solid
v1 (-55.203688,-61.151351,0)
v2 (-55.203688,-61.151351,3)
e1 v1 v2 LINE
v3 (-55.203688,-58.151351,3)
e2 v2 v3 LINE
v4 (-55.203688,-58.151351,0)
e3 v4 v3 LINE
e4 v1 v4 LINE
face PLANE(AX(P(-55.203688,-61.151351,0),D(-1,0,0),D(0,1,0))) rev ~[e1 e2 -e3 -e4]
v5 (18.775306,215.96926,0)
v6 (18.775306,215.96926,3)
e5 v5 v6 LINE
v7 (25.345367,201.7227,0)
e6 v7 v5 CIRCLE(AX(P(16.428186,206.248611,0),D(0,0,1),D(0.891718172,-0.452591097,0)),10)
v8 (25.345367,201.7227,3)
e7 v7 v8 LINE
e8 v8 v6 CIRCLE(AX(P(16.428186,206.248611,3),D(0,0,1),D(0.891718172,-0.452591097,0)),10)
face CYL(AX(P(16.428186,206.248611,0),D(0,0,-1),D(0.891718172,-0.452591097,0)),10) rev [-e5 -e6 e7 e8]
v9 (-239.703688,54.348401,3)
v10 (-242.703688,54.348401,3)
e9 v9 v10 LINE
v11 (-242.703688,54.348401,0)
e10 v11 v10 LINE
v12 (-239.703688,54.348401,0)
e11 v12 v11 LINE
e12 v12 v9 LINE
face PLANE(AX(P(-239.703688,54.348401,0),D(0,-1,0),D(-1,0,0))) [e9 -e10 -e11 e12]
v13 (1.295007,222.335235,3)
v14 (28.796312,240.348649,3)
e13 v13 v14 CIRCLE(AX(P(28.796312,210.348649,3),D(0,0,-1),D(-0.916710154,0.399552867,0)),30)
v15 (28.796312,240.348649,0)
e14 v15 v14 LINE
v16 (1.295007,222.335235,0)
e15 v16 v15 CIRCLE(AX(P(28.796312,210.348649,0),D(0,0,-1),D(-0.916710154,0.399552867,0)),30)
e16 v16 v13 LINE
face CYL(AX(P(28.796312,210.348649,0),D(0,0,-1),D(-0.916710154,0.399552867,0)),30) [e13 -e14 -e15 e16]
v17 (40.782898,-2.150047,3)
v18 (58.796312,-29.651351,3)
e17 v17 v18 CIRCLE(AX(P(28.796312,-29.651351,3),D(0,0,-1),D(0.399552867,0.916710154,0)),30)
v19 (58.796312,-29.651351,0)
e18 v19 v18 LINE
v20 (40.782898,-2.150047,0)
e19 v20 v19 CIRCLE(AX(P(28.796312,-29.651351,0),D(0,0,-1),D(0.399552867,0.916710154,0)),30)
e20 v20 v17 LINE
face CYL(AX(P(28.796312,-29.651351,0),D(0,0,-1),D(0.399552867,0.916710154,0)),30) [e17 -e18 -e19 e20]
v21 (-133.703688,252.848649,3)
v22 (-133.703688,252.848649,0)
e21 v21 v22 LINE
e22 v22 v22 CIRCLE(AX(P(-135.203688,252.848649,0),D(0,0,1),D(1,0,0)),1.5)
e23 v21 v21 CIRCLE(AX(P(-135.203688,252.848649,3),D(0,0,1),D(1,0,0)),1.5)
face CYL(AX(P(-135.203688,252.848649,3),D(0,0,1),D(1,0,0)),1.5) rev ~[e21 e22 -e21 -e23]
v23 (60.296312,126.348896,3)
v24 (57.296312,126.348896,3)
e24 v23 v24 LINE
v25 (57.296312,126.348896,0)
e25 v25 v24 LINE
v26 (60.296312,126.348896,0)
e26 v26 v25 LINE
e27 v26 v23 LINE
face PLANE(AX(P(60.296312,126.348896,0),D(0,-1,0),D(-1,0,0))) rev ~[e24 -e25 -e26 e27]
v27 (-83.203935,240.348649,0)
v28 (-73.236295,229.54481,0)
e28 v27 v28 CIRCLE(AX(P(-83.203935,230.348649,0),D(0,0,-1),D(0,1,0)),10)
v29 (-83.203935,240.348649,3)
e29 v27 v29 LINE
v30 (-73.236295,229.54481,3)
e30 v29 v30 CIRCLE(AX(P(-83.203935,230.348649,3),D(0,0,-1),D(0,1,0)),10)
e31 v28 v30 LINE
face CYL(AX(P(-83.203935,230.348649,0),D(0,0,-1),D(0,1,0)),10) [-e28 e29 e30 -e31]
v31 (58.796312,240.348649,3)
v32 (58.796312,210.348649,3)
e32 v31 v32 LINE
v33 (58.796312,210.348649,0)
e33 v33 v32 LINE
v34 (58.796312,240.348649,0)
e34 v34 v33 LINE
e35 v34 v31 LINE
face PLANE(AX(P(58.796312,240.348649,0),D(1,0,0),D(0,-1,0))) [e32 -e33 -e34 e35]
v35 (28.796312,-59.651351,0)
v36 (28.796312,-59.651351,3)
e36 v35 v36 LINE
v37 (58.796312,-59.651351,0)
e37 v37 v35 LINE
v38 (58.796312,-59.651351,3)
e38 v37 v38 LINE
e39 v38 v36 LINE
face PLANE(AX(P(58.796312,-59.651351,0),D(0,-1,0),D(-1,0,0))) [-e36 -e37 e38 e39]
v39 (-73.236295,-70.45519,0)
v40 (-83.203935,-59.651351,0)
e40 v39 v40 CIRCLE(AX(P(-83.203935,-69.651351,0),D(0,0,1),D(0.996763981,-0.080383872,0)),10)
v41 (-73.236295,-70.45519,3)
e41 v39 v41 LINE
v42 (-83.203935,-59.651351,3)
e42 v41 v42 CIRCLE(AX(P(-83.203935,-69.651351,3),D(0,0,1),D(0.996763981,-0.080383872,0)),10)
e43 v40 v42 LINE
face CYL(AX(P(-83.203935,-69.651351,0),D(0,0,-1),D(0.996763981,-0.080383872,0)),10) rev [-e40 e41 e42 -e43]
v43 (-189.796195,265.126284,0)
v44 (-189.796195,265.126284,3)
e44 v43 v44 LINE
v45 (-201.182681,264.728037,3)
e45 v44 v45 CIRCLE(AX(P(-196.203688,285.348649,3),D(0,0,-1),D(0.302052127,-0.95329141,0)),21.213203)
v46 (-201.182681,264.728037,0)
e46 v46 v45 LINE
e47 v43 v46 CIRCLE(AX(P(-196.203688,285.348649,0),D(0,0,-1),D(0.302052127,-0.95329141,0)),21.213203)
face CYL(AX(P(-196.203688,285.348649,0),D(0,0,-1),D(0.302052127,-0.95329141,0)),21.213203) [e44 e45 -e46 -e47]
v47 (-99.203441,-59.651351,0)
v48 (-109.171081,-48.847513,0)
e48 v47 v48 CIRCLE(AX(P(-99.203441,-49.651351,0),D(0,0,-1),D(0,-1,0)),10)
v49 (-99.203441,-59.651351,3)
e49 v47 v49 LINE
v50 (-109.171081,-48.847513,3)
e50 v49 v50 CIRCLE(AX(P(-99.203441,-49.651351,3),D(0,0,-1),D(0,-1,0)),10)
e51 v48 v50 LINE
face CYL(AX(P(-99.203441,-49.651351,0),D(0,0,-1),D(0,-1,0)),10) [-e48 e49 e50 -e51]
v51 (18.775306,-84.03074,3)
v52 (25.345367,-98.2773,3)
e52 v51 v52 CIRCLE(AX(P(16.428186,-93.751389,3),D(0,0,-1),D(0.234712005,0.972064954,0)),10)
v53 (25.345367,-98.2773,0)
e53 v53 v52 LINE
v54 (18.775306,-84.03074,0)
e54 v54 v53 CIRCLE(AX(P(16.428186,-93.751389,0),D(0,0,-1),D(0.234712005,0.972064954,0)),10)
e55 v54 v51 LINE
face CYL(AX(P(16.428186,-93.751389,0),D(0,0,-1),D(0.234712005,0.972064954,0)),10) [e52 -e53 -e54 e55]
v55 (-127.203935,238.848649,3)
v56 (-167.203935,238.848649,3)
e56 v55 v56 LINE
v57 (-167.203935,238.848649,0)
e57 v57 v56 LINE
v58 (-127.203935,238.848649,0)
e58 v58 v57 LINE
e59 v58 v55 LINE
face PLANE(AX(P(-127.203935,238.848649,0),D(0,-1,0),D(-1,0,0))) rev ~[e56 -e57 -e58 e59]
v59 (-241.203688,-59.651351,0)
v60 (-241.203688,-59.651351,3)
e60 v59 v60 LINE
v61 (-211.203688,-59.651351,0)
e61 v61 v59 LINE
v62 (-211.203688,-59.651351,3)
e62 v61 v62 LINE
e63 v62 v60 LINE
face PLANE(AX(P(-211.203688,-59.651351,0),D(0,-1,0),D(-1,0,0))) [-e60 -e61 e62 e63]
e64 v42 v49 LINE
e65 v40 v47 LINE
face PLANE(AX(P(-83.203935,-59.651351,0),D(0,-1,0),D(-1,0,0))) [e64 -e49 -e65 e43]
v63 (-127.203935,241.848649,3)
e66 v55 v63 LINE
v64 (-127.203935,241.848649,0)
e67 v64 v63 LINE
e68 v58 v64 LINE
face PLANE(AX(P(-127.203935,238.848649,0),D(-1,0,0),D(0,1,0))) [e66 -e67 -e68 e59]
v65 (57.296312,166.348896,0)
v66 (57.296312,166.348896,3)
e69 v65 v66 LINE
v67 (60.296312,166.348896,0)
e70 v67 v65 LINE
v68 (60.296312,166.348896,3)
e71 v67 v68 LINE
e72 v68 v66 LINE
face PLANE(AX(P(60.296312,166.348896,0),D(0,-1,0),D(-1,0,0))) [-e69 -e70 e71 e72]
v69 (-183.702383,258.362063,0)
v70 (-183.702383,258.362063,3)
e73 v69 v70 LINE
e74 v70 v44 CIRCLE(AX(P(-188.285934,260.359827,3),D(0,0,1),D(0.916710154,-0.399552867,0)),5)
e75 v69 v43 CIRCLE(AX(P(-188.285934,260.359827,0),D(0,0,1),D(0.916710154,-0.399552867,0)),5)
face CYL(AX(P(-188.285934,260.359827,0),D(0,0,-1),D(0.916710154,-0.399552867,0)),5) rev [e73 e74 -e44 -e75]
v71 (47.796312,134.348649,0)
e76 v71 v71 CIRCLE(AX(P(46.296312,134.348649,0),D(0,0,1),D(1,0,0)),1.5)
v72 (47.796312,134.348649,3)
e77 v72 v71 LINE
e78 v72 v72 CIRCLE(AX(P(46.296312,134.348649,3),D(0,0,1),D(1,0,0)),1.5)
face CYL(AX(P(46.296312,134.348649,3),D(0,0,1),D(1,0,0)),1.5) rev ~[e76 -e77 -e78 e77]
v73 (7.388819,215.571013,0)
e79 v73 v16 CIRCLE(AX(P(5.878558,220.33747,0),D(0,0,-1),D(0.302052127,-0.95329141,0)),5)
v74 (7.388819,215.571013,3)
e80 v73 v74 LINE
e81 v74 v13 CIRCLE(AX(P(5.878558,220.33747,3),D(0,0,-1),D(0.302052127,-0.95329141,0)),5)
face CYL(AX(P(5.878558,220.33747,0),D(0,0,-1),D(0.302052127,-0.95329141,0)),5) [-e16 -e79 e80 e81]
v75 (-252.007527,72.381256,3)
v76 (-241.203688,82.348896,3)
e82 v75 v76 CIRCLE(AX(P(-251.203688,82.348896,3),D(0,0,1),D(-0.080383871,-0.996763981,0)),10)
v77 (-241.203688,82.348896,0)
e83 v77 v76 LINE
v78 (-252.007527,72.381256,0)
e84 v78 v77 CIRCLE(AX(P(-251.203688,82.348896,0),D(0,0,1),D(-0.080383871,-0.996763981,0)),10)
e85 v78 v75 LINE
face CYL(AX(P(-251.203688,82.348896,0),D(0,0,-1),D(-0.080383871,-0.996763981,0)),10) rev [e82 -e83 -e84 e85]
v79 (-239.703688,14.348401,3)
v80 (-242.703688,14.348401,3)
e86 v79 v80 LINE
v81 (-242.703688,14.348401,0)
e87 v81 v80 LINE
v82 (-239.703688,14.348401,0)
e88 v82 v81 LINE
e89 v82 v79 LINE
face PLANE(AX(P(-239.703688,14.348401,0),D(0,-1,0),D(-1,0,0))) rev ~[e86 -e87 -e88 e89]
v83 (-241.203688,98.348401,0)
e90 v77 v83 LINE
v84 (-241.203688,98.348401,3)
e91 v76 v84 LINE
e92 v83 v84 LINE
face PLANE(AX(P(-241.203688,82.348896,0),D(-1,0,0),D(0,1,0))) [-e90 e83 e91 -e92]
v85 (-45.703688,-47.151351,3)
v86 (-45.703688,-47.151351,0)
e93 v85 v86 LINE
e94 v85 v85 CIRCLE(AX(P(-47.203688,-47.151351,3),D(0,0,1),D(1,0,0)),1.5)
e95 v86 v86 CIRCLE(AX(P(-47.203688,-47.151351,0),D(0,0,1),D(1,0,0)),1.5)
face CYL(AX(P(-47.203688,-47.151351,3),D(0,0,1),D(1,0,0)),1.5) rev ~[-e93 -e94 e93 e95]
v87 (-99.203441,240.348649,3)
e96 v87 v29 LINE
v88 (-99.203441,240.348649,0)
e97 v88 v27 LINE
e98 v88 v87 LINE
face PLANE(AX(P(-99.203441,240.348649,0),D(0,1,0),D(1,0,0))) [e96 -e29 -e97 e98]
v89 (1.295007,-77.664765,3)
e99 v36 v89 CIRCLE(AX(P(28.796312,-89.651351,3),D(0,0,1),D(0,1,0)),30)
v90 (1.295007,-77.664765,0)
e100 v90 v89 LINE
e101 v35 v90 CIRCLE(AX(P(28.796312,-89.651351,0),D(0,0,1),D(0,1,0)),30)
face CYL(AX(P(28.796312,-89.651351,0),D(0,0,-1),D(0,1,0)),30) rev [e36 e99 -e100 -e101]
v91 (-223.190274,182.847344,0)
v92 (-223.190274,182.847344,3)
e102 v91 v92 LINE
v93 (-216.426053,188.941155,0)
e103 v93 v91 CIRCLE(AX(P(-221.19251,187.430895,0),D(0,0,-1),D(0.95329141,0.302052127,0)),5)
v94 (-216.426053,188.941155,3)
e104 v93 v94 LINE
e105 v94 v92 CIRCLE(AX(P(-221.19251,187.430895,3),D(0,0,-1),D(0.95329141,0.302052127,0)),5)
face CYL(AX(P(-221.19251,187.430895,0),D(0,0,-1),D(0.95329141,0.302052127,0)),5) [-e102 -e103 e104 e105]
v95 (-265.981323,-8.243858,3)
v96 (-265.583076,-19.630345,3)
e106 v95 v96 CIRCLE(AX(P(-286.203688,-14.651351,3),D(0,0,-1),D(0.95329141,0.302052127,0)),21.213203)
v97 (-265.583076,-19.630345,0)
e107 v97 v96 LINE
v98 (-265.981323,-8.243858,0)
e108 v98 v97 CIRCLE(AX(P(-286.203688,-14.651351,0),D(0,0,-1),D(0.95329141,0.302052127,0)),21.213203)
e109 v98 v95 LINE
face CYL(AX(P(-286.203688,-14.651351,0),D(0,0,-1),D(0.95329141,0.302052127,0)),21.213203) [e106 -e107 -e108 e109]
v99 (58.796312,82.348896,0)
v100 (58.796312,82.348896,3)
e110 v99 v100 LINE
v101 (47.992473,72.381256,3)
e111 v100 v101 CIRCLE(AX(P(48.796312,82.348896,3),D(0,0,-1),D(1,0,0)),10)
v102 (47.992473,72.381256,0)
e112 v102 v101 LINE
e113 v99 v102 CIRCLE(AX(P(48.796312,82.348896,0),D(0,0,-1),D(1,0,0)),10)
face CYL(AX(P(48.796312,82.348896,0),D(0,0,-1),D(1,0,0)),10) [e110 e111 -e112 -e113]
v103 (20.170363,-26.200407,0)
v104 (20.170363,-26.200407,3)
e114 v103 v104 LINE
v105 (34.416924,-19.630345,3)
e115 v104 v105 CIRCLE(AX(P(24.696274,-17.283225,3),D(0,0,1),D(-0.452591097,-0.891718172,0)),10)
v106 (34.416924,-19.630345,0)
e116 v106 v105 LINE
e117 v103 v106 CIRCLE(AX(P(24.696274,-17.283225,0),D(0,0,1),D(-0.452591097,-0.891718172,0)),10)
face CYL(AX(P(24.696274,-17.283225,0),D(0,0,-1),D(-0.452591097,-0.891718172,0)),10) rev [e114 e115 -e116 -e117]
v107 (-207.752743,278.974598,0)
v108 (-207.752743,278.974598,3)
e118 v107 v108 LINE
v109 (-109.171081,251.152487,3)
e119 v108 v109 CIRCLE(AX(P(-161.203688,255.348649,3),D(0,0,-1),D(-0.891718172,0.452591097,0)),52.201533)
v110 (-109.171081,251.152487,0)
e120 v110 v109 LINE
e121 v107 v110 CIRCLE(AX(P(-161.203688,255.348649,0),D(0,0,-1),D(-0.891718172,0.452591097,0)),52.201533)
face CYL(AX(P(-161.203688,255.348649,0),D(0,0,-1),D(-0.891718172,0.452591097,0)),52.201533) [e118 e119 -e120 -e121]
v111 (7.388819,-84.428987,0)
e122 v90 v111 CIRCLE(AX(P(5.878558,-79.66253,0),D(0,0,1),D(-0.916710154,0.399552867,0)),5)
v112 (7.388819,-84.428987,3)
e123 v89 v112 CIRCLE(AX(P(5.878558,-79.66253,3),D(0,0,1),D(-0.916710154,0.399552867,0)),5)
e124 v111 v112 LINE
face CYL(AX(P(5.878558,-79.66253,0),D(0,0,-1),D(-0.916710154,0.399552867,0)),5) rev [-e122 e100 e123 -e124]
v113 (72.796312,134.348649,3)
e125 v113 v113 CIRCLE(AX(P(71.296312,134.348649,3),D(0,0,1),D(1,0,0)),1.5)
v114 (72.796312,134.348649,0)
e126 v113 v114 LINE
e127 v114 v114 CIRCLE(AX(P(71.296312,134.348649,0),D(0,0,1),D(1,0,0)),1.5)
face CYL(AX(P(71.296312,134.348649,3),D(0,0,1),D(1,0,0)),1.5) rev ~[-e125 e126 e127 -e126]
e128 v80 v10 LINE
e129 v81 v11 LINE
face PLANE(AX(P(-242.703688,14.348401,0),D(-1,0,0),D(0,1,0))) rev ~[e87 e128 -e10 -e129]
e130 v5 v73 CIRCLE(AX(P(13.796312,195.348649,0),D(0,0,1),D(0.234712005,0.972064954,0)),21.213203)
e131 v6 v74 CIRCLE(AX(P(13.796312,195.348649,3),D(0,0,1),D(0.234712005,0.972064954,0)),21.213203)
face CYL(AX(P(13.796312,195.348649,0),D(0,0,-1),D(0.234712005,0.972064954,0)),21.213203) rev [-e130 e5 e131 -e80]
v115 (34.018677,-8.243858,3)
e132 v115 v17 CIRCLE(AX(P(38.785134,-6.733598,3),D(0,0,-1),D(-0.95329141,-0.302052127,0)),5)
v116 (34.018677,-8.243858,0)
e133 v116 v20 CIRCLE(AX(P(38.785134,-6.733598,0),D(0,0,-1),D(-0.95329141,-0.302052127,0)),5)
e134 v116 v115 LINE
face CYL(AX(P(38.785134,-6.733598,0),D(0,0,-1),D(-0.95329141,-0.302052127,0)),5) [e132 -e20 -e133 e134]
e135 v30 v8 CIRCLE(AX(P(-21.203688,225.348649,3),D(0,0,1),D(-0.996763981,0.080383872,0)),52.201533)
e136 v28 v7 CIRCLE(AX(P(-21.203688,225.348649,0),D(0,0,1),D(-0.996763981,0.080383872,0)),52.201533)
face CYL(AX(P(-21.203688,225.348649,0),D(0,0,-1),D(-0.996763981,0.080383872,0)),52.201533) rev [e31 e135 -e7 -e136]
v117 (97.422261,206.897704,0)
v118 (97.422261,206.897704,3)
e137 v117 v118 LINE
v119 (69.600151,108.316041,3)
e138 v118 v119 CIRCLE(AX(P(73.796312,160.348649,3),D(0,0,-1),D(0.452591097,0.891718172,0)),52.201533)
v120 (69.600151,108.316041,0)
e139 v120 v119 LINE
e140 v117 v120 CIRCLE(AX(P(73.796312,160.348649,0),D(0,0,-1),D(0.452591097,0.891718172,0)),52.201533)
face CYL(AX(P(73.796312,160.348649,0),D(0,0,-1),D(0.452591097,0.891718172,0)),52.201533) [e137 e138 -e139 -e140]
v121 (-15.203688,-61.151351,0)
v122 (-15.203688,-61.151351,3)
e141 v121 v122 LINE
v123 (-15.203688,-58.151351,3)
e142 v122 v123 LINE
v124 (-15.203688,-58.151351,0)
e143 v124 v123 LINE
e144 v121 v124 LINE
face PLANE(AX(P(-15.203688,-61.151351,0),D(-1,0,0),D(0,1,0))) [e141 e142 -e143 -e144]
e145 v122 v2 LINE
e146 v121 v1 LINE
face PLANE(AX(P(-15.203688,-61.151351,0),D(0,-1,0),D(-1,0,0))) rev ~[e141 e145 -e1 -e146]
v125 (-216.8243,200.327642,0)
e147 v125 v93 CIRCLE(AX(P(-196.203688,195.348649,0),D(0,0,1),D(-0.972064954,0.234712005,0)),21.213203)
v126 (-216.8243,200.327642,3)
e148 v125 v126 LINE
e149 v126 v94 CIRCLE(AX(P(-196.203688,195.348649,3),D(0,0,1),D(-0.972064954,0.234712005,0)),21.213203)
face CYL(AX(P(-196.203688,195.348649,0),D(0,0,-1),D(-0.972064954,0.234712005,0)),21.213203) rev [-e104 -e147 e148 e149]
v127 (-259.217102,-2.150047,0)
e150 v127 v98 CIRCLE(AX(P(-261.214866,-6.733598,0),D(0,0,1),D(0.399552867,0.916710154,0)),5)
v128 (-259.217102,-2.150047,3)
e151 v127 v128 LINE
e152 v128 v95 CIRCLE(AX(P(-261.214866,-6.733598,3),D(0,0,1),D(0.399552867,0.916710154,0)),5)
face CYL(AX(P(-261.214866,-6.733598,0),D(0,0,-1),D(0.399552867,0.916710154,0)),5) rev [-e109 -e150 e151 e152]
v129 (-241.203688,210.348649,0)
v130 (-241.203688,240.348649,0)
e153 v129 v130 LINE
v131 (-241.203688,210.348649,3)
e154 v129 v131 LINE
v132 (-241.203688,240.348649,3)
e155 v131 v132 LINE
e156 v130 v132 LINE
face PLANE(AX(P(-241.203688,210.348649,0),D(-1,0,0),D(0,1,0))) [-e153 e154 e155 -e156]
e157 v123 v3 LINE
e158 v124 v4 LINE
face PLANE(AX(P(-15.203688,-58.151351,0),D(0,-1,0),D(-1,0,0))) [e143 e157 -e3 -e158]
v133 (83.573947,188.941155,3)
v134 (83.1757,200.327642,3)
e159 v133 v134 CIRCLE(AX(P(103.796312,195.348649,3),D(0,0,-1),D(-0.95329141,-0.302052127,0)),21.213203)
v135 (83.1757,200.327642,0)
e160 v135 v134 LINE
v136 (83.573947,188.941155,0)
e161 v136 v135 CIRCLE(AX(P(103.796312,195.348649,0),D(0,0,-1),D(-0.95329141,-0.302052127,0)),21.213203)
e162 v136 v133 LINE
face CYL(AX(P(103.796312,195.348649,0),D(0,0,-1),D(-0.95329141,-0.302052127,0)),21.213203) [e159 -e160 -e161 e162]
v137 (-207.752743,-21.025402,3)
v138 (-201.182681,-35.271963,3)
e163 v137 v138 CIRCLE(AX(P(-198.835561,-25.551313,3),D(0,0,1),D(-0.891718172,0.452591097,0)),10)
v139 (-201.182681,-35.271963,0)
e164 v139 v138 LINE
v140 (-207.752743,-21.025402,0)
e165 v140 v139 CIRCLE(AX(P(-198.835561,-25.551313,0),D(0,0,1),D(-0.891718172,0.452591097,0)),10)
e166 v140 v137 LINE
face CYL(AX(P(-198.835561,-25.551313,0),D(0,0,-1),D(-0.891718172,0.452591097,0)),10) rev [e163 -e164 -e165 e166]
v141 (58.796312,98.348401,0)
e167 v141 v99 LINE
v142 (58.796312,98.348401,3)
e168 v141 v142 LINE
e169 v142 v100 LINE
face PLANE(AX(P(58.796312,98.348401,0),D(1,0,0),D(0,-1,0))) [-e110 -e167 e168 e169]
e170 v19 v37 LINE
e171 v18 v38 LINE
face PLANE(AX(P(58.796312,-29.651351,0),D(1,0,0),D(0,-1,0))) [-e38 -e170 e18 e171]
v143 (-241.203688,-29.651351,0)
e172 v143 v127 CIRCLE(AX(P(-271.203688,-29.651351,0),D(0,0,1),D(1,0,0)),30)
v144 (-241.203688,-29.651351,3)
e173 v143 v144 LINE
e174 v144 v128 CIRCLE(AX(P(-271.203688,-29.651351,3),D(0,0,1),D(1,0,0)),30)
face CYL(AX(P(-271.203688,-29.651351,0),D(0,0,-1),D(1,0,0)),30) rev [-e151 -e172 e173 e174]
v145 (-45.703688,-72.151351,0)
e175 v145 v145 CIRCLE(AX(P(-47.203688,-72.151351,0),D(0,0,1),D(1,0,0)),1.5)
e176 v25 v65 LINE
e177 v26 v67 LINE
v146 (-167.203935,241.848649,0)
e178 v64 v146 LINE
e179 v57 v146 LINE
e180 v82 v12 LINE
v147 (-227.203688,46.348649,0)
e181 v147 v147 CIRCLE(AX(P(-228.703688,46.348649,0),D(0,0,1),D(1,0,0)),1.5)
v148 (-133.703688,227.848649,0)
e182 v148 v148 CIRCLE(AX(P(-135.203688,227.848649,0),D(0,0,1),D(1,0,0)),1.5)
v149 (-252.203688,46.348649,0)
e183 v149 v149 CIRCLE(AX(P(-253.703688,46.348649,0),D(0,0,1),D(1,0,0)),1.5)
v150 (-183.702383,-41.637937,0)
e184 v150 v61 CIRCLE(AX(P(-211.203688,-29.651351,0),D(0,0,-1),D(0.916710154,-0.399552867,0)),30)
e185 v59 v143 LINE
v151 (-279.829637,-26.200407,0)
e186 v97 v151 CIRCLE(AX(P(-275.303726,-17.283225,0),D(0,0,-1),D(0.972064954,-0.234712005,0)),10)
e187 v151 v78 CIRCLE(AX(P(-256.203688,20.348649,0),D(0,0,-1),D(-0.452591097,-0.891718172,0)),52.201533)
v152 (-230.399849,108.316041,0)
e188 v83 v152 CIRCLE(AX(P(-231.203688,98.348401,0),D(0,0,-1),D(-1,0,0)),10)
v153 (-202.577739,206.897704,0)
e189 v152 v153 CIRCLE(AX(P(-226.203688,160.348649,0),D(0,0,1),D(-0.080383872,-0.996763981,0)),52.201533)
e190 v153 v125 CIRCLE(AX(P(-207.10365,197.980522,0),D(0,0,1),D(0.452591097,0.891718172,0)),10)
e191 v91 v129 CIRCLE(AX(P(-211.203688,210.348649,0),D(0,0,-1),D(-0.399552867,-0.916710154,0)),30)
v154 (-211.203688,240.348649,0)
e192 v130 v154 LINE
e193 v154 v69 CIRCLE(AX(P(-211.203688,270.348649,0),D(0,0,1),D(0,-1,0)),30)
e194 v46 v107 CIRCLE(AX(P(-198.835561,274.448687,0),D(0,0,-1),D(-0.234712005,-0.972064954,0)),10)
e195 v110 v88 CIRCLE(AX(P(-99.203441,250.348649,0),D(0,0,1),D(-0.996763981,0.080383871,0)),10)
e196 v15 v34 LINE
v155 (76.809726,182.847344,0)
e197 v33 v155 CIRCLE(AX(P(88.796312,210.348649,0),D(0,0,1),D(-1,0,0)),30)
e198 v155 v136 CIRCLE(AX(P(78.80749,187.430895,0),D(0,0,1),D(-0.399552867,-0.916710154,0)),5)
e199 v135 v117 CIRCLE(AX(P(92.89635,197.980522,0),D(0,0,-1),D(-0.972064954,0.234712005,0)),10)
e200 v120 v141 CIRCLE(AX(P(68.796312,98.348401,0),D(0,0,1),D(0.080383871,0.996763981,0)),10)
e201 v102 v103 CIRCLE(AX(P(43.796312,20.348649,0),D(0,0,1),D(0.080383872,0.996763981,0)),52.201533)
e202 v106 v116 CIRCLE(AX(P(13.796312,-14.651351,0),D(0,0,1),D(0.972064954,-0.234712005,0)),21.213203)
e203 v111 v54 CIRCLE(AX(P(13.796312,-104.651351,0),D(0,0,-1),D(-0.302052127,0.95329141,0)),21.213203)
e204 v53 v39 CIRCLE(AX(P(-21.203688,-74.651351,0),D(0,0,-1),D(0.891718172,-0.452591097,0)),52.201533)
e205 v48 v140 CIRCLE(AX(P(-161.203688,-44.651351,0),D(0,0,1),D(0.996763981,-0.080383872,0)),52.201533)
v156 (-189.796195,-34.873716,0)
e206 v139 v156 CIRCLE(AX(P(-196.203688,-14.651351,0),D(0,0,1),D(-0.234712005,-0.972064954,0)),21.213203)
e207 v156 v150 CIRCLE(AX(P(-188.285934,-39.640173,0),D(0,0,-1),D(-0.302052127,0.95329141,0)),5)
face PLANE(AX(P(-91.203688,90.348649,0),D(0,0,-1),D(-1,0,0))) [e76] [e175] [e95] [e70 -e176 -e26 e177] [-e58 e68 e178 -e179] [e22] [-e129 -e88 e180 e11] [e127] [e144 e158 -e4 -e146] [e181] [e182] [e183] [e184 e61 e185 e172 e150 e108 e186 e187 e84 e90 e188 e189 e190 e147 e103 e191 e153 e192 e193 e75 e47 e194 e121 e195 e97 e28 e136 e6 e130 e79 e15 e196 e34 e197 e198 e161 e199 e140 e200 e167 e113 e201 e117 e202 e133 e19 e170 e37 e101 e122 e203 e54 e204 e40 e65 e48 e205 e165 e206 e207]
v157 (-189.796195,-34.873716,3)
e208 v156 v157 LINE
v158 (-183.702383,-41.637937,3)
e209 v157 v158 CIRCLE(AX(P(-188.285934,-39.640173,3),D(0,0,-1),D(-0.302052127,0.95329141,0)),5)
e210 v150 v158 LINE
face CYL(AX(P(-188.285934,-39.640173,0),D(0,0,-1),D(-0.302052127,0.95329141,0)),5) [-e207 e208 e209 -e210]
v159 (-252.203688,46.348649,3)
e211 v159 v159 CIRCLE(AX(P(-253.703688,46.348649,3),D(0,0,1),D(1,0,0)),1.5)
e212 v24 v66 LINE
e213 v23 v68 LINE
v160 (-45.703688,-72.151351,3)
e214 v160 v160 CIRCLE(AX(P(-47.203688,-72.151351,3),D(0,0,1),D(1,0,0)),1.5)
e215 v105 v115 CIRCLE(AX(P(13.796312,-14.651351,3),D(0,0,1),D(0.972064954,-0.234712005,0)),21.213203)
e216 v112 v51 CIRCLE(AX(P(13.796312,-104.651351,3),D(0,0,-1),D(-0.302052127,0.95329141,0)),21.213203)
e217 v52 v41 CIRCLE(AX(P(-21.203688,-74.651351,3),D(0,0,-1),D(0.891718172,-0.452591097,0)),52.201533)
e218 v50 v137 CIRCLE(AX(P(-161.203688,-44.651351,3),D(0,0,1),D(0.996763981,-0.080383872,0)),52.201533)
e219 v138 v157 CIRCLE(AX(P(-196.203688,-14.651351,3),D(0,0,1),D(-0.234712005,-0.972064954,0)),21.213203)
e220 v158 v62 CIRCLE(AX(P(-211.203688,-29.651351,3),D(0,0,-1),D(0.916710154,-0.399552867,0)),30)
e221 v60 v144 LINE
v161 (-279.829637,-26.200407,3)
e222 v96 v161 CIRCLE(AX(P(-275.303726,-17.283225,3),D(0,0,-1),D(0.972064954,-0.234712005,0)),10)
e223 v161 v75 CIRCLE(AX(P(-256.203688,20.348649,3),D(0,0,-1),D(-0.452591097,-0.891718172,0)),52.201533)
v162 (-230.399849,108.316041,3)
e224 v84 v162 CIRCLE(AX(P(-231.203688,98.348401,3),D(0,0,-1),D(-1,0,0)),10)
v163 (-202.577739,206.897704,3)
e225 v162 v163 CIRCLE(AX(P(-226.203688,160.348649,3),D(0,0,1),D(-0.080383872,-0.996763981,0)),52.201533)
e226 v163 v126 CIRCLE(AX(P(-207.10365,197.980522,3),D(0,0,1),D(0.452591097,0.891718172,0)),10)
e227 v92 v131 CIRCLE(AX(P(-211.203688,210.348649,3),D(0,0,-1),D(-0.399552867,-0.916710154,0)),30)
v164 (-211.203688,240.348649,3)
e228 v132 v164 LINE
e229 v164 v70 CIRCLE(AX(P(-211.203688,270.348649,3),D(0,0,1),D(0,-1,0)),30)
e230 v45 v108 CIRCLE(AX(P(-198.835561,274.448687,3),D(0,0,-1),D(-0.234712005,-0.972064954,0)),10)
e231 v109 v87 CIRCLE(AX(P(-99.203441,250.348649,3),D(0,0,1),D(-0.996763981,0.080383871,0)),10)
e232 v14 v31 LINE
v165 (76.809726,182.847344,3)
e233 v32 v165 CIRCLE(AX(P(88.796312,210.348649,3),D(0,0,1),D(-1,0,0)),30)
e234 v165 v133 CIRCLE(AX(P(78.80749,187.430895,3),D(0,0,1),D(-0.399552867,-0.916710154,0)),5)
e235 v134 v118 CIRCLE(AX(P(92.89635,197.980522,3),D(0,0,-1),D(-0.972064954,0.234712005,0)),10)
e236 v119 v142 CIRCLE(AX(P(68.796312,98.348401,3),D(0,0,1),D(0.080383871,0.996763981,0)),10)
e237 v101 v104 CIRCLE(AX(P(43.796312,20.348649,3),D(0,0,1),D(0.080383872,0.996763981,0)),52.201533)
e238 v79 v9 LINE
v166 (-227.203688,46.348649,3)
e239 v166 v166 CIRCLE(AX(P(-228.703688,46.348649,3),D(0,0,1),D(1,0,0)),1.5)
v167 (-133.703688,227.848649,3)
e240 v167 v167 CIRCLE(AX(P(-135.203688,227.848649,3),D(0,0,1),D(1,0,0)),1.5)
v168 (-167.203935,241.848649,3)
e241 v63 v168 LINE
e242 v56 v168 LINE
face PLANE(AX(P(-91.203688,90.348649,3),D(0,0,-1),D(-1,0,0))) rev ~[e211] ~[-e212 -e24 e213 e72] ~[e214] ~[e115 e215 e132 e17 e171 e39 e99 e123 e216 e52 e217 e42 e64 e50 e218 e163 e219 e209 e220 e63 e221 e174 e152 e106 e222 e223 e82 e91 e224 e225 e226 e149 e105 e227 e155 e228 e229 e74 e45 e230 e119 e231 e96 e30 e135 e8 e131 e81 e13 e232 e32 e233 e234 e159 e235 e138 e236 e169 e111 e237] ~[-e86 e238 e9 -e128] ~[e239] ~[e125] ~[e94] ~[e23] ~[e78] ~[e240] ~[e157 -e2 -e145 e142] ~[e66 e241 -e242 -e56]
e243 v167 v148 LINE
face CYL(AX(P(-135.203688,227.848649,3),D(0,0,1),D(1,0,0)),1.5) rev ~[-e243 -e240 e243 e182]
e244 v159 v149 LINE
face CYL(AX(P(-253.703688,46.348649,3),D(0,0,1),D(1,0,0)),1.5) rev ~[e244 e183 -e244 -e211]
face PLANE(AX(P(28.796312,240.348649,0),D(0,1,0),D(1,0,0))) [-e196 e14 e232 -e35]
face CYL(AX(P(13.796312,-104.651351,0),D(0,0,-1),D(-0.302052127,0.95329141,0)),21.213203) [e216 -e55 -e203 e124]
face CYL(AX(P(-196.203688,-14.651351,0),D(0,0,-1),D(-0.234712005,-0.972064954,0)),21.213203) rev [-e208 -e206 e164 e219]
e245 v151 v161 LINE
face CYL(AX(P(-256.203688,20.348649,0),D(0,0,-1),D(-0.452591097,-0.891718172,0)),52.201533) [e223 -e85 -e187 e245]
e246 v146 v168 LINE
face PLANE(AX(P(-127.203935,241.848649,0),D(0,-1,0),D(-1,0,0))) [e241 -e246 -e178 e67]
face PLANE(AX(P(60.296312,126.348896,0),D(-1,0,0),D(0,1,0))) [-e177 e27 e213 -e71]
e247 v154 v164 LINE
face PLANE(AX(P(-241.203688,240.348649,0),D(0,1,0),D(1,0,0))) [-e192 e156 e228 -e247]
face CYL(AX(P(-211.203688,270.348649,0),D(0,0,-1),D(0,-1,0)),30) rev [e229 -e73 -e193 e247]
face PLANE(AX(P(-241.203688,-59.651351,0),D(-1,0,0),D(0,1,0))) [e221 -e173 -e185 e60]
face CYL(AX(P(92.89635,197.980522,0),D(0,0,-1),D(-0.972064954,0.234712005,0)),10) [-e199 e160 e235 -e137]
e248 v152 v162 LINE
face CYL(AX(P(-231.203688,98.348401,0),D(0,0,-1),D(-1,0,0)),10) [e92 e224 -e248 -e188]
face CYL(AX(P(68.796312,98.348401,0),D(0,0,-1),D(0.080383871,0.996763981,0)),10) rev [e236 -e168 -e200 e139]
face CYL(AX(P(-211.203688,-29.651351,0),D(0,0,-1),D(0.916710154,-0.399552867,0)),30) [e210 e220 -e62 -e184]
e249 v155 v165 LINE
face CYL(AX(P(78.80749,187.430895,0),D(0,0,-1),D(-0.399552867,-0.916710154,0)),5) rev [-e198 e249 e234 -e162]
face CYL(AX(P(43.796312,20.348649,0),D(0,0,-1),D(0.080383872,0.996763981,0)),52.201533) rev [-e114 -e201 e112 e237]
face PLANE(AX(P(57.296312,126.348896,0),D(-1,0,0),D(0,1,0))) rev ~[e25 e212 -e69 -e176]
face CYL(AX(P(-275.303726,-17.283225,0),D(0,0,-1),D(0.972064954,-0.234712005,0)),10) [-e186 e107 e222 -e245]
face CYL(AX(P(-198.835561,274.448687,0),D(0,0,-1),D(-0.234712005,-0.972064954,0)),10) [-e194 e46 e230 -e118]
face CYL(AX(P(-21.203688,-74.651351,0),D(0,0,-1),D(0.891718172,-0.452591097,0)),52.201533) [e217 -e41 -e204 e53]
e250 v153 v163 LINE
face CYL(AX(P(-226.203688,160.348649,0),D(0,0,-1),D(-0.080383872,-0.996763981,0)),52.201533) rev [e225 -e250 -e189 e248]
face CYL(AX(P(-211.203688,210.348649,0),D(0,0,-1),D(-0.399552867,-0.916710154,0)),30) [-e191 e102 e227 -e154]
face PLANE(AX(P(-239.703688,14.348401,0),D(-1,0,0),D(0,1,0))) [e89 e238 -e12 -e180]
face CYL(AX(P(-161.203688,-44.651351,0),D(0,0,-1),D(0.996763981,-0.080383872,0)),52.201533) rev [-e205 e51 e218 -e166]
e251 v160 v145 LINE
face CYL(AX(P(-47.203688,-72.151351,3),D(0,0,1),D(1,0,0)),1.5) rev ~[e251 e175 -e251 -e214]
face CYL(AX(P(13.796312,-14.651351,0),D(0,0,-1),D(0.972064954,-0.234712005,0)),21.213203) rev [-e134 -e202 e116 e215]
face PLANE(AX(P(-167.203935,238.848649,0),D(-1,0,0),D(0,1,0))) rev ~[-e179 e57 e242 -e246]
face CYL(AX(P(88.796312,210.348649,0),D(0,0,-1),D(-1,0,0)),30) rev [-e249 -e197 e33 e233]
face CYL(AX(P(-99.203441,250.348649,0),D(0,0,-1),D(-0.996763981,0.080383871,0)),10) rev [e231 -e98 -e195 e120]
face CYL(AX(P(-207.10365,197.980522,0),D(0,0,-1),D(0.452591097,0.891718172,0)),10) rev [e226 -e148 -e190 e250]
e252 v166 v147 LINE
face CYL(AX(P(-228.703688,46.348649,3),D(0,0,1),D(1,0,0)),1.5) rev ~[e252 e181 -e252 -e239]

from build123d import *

# Parameters (mm, degrees)
RESSALTO_EXTRUS_O1_DEPTH = 3
ESBO_O2_W                = 40
ESBO_O2_H                = 3
ESBO_O2_W_2              = 3
ESBO_O2_H_2              = 40
CORTE_EXTRUS_O1_DEPTH    = 436.556992799
ESBO_O3_R                = 1.5
CORTE_EXTRUS_O2_DEPTH    = 436.556992799


with BuildPart() as part:
    # Esboço1 → Ressalto-extrusão1 (new body)
    with BuildSketch(Plane.XY):
        with BuildLine():
            Line((-241.20368795, -59.651351358), (-241.20368795, -29.651351358))
            ThreePointArc((-241.20368795, -29.651351358), (-246.107895674, -13.213553147), (-259.217101951, -2.150046733))
            ThreePointArc((-259.217101951, -2.150046733), (-264.561513741, -3.018769002), (-265.981323334, -8.243858139))
            ThreePointArc((-265.981323334, -8.243858139), (-265.003447457, -13.909864328), (-265.583076332, -19.630344878))
            ThreePointArc((-265.583076332, -19.630344878), (-271.11591561, -26.364097317), (-279.829636843, -26.200406546))
            ThreePointArc((-279.829636843, -26.200406546), (-306.442768457, 34.527322411), (-252.007526665, 72.381256019))
            ThreePointArc((-252.007526665, 72.381256019), (-244.422773084, 74.999120757), (-241.20368795, 82.348895826))
            Line((-241.20368795, 82.348895826), (-241.20368795, 98.348401458))
            ThreePointArc((-241.20368795, 98.348401458), (-237.984602816, 105.698176528), (-230.399849235, 108.316041265))
            ThreePointArc((-230.399849235, 108.316041265), (-175.964607443, 146.169974874), (-202.577739058, 206.897703831))
            ThreePointArc((-202.577739058, 206.897703831), (-211.29146029, 207.061394601), (-216.824299569, 200.327642163))
            ThreePointArc((-216.824299569, 200.327642163), (-217.403928444, 194.607161612), (-216.426052566, 188.941155423))
            ThreePointArc((-216.426052566, 188.941155423), (-217.845862159, 183.716066286), (-223.190273949, 182.847344017))
            ThreePointArc((-223.190273949, 182.847344017), (-236.299480227, 193.910850432), (-241.20368795, 210.348648642))
            Line((-241.20368795, 210.348648642), (-241.20368795, 240.348648642))
            Line((-241.20368795, 240.348648642), (-211.20368795, 240.348648642))
            ThreePointArc((-211.20368795, 240.348648642), (-194.76588974, 245.252856366), (-183.702383325, 258.362062643))
            ThreePointArc((-183.702383325, 258.362062643), (-184.571105594, 263.706474433), (-189.796194731, 265.126284027))
            ThreePointArc((-189.796194731, 265.126284027), (-195.46220092, 264.148408149), (-201.182681471, 264.728037024))
            ThreePointArc((-201.182681471, 264.728037024), (-207.916433909, 270.260876302), (-207.752743138, 278.974597535))
            ThreePointArc((-207.752743138, 278.974597535), (-147.025014182, 305.587729149), (-109.171080573, 251.152487357))
            ThreePointArc((-109.171080573, 251.152487357), (-106.553215836, 243.567733776), (-99.203440766, 240.348648642))
            Line((-99.203440766, 240.348648642), (-83.203935134, 240.348648642))
            ThreePointArc((-83.203935134, 240.348648642), (-75.854160064, 237.129563509), (-73.236295327, 229.544809927))
            ThreePointArc((-73.236295327, 229.544809927), (-35.382361719, 175.109568135), (25.345367238, 201.72269975))
            ThreePointArc((25.345367238, 201.72269975), (25.509058009, 210.436420982), (18.775305571, 215.969260261))
            ThreePointArc((18.775305571, 215.969260261), (13.05482502, 216.548889136), (7.388818831, 215.571013258))
            ThreePointArc((7.388818831, 215.571013258), (2.163729694, 216.990822851), (1.295007425, 222.335234642))
            ThreePointArc((1.295007425, 222.335234642), (12.358513839, 235.444440919), (28.79631205, 240.348648642))
            Line((28.79631205, 240.348648642), (58.79631205, 240.348648642))
            Line((58.79631205, 240.348648642), (58.79631205, 210.348648642))
            ThreePointArc((58.79631205, 210.348648642), (63.700519773, 193.910850432), (76.809726051, 182.847344017))
            ThreePointArc((76.809726051, 182.847344017), (82.154137841, 183.716066286), (83.573947435, 188.941155423))
            ThreePointArc((83.573947435, 188.941155423), (82.596071557, 194.607161612), (83.175700432, 200.327642163))
            ThreePointArc((83.175700432, 200.327642163), (88.70853971, 207.061394601), (97.422260943, 206.89770383))
            ThreePointArc((97.422260943, 206.89770383), (124.035392557, 146.169974874), (69.600150765, 108.316041265))
            ThreePointArc((69.600150765, 108.316041265), (62.015397184, 105.698176528), (58.79631205, 98.348401458))
            Line((58.79631205, 98.348401458), (58.79631205, 82.348895826))
            ThreePointArc((58.79631205, 82.348895826), (55.577226916, 74.999120757), (47.992473335, 72.381256019))
            ThreePointArc((47.992473335, 72.381256019), (-6.442768457, 34.527322411), (20.170363157, -26.200406546))
            ThreePointArc((20.170363157, -26.200406546), (28.88408439, -26.364097317), (34.416923668, -19.630344878))
            ThreePointArc((34.416923668, -19.630344878), (34.996552543, -13.909864328), (34.018676666, -8.243858139))
            ThreePointArc((34.018676666, -8.243858139), (35.438486259, -3.018769002), (40.782898049, -2.150046733))
            ThreePointArc((40.782898049, -2.150046733), (53.892104326, -13.213553147), (58.79631205, -29.651351358))
            Line((58.79631205, -29.651351358), (58.79631205, -59.651351358))
            Line((58.79631205, -59.651351358), (28.79631205, -59.651351358))
            ThreePointArc((28.79631205, -59.651351358), (12.358513839, -64.555559081), (1.295007425, -77.664765358))
            ThreePointArc((1.295007425, -77.664765358), (2.163729694, -83.009177149), (7.388818831, -84.428986742))
            ThreePointArc((7.388818831, -84.428986742), (13.05482502, -83.451110864), (18.775305571, -84.030739739))
            ThreePointArc((18.775305571, -84.030739739), (25.509058009, -89.563579018), (25.345367238, -98.27730025))
            ThreePointArc((25.345367238, -98.27730025), (-35.382361719, -124.890431865), (-73.236295327, -70.455190073))
            ThreePointArc((-73.236295327, -70.455190073), (-75.854160064, -62.870436491), (-83.203935134, -59.651351358))
            Line((-83.203935134, -59.651351358), (-99.203440766, -59.651351358))
            ThreePointArc((-99.203440766, -59.651351358), (-106.553215836, -56.432266224), (-109.171080573, -48.847512643))
            ThreePointArc((-109.171080573, -48.847512643), (-147.025014182, 5.587729149), (-207.752743138, -21.025402465))
            ThreePointArc((-207.752743138, -21.025402465), (-207.916433909, -29.739123698), (-201.182681471, -35.271962976))
            ThreePointArc((-201.182681471, -35.271962976), (-195.46220092, -35.851591851), (-189.796194731, -34.873715973))
            ThreePointArc((-189.796194731, -34.873715973), (-184.571105594, -36.293525567), (-183.702383325, -41.637937357))
            ThreePointArc((-183.702383325, -41.637937357), (-194.76588974, -54.747143634), (-211.20368795, -59.651351358))
            Line((-211.20368795, -59.651351358), (-241.20368795, -59.651351358))
        make_face()
    extrude(amount=RESSALTO_EXTRUS_O1_DEPTH)

    # Esboço2 → Corte-extrusão1 (cut, through all)
    with BuildSketch(Plane(origin=(0, 0, 0), x_dir=(-1, 0, 0), z_dir=(0, 0, -1))):
        with Locations((147.203935134, 240.348648642)):
            Rectangle(ESBO_O2_W, ESBO_O2_H)
        with Locations((-58.79631205, 146.348895826)):
            Rectangle(ESBO_O2_W_2, ESBO_O2_H_2)
        with Locations((35.20368795, -59.651351358)):
            Rectangle(ESBO_O2_W, ESBO_O2_H)
        with Locations((241.20368795, 34.348401458)):
            Rectangle(ESBO_O2_W_2, ESBO_O2_H_2)
    extrude(amount=-CORTE_EXTRUS_O1_DEPTH, mode=Mode.SUBTRACT)

    # Esboço3 → Corte-extrusão2 (cut, through all)
    with BuildSketch(Plane.XY.offset(3)):
        with Locations((-228.70368795, 46.348648642)):
            Circle(ESBO_O3_R)
        with Locations((-47.20368795, -47.151351358)):
            Circle(ESBO_O3_R)
        with Locations((46.29631205, 134.348648642)):
            Circle(ESBO_O3_R)
        with Locations((-135.20368795, 227.848648642)):
            Circle(ESBO_O3_R)
        with Locations((-47.20368795, -72.151351358)):
            Circle(ESBO_O3_R)
        with Locations((-253.70368795, 46.348648642)):
            Circle(ESBO_O3_R)
        with Locations((-135.20368795, 252.848648642)):
            Circle(ESBO_O3_R)
        with Locations((71.29631205, 134.348648642)):
            Circle(ESBO_O3_R)
    extrude(amount=-CORTE_EXTRUS_O2_DEPTH, mode=Mode.SUBTRACT)


solid = part.part
